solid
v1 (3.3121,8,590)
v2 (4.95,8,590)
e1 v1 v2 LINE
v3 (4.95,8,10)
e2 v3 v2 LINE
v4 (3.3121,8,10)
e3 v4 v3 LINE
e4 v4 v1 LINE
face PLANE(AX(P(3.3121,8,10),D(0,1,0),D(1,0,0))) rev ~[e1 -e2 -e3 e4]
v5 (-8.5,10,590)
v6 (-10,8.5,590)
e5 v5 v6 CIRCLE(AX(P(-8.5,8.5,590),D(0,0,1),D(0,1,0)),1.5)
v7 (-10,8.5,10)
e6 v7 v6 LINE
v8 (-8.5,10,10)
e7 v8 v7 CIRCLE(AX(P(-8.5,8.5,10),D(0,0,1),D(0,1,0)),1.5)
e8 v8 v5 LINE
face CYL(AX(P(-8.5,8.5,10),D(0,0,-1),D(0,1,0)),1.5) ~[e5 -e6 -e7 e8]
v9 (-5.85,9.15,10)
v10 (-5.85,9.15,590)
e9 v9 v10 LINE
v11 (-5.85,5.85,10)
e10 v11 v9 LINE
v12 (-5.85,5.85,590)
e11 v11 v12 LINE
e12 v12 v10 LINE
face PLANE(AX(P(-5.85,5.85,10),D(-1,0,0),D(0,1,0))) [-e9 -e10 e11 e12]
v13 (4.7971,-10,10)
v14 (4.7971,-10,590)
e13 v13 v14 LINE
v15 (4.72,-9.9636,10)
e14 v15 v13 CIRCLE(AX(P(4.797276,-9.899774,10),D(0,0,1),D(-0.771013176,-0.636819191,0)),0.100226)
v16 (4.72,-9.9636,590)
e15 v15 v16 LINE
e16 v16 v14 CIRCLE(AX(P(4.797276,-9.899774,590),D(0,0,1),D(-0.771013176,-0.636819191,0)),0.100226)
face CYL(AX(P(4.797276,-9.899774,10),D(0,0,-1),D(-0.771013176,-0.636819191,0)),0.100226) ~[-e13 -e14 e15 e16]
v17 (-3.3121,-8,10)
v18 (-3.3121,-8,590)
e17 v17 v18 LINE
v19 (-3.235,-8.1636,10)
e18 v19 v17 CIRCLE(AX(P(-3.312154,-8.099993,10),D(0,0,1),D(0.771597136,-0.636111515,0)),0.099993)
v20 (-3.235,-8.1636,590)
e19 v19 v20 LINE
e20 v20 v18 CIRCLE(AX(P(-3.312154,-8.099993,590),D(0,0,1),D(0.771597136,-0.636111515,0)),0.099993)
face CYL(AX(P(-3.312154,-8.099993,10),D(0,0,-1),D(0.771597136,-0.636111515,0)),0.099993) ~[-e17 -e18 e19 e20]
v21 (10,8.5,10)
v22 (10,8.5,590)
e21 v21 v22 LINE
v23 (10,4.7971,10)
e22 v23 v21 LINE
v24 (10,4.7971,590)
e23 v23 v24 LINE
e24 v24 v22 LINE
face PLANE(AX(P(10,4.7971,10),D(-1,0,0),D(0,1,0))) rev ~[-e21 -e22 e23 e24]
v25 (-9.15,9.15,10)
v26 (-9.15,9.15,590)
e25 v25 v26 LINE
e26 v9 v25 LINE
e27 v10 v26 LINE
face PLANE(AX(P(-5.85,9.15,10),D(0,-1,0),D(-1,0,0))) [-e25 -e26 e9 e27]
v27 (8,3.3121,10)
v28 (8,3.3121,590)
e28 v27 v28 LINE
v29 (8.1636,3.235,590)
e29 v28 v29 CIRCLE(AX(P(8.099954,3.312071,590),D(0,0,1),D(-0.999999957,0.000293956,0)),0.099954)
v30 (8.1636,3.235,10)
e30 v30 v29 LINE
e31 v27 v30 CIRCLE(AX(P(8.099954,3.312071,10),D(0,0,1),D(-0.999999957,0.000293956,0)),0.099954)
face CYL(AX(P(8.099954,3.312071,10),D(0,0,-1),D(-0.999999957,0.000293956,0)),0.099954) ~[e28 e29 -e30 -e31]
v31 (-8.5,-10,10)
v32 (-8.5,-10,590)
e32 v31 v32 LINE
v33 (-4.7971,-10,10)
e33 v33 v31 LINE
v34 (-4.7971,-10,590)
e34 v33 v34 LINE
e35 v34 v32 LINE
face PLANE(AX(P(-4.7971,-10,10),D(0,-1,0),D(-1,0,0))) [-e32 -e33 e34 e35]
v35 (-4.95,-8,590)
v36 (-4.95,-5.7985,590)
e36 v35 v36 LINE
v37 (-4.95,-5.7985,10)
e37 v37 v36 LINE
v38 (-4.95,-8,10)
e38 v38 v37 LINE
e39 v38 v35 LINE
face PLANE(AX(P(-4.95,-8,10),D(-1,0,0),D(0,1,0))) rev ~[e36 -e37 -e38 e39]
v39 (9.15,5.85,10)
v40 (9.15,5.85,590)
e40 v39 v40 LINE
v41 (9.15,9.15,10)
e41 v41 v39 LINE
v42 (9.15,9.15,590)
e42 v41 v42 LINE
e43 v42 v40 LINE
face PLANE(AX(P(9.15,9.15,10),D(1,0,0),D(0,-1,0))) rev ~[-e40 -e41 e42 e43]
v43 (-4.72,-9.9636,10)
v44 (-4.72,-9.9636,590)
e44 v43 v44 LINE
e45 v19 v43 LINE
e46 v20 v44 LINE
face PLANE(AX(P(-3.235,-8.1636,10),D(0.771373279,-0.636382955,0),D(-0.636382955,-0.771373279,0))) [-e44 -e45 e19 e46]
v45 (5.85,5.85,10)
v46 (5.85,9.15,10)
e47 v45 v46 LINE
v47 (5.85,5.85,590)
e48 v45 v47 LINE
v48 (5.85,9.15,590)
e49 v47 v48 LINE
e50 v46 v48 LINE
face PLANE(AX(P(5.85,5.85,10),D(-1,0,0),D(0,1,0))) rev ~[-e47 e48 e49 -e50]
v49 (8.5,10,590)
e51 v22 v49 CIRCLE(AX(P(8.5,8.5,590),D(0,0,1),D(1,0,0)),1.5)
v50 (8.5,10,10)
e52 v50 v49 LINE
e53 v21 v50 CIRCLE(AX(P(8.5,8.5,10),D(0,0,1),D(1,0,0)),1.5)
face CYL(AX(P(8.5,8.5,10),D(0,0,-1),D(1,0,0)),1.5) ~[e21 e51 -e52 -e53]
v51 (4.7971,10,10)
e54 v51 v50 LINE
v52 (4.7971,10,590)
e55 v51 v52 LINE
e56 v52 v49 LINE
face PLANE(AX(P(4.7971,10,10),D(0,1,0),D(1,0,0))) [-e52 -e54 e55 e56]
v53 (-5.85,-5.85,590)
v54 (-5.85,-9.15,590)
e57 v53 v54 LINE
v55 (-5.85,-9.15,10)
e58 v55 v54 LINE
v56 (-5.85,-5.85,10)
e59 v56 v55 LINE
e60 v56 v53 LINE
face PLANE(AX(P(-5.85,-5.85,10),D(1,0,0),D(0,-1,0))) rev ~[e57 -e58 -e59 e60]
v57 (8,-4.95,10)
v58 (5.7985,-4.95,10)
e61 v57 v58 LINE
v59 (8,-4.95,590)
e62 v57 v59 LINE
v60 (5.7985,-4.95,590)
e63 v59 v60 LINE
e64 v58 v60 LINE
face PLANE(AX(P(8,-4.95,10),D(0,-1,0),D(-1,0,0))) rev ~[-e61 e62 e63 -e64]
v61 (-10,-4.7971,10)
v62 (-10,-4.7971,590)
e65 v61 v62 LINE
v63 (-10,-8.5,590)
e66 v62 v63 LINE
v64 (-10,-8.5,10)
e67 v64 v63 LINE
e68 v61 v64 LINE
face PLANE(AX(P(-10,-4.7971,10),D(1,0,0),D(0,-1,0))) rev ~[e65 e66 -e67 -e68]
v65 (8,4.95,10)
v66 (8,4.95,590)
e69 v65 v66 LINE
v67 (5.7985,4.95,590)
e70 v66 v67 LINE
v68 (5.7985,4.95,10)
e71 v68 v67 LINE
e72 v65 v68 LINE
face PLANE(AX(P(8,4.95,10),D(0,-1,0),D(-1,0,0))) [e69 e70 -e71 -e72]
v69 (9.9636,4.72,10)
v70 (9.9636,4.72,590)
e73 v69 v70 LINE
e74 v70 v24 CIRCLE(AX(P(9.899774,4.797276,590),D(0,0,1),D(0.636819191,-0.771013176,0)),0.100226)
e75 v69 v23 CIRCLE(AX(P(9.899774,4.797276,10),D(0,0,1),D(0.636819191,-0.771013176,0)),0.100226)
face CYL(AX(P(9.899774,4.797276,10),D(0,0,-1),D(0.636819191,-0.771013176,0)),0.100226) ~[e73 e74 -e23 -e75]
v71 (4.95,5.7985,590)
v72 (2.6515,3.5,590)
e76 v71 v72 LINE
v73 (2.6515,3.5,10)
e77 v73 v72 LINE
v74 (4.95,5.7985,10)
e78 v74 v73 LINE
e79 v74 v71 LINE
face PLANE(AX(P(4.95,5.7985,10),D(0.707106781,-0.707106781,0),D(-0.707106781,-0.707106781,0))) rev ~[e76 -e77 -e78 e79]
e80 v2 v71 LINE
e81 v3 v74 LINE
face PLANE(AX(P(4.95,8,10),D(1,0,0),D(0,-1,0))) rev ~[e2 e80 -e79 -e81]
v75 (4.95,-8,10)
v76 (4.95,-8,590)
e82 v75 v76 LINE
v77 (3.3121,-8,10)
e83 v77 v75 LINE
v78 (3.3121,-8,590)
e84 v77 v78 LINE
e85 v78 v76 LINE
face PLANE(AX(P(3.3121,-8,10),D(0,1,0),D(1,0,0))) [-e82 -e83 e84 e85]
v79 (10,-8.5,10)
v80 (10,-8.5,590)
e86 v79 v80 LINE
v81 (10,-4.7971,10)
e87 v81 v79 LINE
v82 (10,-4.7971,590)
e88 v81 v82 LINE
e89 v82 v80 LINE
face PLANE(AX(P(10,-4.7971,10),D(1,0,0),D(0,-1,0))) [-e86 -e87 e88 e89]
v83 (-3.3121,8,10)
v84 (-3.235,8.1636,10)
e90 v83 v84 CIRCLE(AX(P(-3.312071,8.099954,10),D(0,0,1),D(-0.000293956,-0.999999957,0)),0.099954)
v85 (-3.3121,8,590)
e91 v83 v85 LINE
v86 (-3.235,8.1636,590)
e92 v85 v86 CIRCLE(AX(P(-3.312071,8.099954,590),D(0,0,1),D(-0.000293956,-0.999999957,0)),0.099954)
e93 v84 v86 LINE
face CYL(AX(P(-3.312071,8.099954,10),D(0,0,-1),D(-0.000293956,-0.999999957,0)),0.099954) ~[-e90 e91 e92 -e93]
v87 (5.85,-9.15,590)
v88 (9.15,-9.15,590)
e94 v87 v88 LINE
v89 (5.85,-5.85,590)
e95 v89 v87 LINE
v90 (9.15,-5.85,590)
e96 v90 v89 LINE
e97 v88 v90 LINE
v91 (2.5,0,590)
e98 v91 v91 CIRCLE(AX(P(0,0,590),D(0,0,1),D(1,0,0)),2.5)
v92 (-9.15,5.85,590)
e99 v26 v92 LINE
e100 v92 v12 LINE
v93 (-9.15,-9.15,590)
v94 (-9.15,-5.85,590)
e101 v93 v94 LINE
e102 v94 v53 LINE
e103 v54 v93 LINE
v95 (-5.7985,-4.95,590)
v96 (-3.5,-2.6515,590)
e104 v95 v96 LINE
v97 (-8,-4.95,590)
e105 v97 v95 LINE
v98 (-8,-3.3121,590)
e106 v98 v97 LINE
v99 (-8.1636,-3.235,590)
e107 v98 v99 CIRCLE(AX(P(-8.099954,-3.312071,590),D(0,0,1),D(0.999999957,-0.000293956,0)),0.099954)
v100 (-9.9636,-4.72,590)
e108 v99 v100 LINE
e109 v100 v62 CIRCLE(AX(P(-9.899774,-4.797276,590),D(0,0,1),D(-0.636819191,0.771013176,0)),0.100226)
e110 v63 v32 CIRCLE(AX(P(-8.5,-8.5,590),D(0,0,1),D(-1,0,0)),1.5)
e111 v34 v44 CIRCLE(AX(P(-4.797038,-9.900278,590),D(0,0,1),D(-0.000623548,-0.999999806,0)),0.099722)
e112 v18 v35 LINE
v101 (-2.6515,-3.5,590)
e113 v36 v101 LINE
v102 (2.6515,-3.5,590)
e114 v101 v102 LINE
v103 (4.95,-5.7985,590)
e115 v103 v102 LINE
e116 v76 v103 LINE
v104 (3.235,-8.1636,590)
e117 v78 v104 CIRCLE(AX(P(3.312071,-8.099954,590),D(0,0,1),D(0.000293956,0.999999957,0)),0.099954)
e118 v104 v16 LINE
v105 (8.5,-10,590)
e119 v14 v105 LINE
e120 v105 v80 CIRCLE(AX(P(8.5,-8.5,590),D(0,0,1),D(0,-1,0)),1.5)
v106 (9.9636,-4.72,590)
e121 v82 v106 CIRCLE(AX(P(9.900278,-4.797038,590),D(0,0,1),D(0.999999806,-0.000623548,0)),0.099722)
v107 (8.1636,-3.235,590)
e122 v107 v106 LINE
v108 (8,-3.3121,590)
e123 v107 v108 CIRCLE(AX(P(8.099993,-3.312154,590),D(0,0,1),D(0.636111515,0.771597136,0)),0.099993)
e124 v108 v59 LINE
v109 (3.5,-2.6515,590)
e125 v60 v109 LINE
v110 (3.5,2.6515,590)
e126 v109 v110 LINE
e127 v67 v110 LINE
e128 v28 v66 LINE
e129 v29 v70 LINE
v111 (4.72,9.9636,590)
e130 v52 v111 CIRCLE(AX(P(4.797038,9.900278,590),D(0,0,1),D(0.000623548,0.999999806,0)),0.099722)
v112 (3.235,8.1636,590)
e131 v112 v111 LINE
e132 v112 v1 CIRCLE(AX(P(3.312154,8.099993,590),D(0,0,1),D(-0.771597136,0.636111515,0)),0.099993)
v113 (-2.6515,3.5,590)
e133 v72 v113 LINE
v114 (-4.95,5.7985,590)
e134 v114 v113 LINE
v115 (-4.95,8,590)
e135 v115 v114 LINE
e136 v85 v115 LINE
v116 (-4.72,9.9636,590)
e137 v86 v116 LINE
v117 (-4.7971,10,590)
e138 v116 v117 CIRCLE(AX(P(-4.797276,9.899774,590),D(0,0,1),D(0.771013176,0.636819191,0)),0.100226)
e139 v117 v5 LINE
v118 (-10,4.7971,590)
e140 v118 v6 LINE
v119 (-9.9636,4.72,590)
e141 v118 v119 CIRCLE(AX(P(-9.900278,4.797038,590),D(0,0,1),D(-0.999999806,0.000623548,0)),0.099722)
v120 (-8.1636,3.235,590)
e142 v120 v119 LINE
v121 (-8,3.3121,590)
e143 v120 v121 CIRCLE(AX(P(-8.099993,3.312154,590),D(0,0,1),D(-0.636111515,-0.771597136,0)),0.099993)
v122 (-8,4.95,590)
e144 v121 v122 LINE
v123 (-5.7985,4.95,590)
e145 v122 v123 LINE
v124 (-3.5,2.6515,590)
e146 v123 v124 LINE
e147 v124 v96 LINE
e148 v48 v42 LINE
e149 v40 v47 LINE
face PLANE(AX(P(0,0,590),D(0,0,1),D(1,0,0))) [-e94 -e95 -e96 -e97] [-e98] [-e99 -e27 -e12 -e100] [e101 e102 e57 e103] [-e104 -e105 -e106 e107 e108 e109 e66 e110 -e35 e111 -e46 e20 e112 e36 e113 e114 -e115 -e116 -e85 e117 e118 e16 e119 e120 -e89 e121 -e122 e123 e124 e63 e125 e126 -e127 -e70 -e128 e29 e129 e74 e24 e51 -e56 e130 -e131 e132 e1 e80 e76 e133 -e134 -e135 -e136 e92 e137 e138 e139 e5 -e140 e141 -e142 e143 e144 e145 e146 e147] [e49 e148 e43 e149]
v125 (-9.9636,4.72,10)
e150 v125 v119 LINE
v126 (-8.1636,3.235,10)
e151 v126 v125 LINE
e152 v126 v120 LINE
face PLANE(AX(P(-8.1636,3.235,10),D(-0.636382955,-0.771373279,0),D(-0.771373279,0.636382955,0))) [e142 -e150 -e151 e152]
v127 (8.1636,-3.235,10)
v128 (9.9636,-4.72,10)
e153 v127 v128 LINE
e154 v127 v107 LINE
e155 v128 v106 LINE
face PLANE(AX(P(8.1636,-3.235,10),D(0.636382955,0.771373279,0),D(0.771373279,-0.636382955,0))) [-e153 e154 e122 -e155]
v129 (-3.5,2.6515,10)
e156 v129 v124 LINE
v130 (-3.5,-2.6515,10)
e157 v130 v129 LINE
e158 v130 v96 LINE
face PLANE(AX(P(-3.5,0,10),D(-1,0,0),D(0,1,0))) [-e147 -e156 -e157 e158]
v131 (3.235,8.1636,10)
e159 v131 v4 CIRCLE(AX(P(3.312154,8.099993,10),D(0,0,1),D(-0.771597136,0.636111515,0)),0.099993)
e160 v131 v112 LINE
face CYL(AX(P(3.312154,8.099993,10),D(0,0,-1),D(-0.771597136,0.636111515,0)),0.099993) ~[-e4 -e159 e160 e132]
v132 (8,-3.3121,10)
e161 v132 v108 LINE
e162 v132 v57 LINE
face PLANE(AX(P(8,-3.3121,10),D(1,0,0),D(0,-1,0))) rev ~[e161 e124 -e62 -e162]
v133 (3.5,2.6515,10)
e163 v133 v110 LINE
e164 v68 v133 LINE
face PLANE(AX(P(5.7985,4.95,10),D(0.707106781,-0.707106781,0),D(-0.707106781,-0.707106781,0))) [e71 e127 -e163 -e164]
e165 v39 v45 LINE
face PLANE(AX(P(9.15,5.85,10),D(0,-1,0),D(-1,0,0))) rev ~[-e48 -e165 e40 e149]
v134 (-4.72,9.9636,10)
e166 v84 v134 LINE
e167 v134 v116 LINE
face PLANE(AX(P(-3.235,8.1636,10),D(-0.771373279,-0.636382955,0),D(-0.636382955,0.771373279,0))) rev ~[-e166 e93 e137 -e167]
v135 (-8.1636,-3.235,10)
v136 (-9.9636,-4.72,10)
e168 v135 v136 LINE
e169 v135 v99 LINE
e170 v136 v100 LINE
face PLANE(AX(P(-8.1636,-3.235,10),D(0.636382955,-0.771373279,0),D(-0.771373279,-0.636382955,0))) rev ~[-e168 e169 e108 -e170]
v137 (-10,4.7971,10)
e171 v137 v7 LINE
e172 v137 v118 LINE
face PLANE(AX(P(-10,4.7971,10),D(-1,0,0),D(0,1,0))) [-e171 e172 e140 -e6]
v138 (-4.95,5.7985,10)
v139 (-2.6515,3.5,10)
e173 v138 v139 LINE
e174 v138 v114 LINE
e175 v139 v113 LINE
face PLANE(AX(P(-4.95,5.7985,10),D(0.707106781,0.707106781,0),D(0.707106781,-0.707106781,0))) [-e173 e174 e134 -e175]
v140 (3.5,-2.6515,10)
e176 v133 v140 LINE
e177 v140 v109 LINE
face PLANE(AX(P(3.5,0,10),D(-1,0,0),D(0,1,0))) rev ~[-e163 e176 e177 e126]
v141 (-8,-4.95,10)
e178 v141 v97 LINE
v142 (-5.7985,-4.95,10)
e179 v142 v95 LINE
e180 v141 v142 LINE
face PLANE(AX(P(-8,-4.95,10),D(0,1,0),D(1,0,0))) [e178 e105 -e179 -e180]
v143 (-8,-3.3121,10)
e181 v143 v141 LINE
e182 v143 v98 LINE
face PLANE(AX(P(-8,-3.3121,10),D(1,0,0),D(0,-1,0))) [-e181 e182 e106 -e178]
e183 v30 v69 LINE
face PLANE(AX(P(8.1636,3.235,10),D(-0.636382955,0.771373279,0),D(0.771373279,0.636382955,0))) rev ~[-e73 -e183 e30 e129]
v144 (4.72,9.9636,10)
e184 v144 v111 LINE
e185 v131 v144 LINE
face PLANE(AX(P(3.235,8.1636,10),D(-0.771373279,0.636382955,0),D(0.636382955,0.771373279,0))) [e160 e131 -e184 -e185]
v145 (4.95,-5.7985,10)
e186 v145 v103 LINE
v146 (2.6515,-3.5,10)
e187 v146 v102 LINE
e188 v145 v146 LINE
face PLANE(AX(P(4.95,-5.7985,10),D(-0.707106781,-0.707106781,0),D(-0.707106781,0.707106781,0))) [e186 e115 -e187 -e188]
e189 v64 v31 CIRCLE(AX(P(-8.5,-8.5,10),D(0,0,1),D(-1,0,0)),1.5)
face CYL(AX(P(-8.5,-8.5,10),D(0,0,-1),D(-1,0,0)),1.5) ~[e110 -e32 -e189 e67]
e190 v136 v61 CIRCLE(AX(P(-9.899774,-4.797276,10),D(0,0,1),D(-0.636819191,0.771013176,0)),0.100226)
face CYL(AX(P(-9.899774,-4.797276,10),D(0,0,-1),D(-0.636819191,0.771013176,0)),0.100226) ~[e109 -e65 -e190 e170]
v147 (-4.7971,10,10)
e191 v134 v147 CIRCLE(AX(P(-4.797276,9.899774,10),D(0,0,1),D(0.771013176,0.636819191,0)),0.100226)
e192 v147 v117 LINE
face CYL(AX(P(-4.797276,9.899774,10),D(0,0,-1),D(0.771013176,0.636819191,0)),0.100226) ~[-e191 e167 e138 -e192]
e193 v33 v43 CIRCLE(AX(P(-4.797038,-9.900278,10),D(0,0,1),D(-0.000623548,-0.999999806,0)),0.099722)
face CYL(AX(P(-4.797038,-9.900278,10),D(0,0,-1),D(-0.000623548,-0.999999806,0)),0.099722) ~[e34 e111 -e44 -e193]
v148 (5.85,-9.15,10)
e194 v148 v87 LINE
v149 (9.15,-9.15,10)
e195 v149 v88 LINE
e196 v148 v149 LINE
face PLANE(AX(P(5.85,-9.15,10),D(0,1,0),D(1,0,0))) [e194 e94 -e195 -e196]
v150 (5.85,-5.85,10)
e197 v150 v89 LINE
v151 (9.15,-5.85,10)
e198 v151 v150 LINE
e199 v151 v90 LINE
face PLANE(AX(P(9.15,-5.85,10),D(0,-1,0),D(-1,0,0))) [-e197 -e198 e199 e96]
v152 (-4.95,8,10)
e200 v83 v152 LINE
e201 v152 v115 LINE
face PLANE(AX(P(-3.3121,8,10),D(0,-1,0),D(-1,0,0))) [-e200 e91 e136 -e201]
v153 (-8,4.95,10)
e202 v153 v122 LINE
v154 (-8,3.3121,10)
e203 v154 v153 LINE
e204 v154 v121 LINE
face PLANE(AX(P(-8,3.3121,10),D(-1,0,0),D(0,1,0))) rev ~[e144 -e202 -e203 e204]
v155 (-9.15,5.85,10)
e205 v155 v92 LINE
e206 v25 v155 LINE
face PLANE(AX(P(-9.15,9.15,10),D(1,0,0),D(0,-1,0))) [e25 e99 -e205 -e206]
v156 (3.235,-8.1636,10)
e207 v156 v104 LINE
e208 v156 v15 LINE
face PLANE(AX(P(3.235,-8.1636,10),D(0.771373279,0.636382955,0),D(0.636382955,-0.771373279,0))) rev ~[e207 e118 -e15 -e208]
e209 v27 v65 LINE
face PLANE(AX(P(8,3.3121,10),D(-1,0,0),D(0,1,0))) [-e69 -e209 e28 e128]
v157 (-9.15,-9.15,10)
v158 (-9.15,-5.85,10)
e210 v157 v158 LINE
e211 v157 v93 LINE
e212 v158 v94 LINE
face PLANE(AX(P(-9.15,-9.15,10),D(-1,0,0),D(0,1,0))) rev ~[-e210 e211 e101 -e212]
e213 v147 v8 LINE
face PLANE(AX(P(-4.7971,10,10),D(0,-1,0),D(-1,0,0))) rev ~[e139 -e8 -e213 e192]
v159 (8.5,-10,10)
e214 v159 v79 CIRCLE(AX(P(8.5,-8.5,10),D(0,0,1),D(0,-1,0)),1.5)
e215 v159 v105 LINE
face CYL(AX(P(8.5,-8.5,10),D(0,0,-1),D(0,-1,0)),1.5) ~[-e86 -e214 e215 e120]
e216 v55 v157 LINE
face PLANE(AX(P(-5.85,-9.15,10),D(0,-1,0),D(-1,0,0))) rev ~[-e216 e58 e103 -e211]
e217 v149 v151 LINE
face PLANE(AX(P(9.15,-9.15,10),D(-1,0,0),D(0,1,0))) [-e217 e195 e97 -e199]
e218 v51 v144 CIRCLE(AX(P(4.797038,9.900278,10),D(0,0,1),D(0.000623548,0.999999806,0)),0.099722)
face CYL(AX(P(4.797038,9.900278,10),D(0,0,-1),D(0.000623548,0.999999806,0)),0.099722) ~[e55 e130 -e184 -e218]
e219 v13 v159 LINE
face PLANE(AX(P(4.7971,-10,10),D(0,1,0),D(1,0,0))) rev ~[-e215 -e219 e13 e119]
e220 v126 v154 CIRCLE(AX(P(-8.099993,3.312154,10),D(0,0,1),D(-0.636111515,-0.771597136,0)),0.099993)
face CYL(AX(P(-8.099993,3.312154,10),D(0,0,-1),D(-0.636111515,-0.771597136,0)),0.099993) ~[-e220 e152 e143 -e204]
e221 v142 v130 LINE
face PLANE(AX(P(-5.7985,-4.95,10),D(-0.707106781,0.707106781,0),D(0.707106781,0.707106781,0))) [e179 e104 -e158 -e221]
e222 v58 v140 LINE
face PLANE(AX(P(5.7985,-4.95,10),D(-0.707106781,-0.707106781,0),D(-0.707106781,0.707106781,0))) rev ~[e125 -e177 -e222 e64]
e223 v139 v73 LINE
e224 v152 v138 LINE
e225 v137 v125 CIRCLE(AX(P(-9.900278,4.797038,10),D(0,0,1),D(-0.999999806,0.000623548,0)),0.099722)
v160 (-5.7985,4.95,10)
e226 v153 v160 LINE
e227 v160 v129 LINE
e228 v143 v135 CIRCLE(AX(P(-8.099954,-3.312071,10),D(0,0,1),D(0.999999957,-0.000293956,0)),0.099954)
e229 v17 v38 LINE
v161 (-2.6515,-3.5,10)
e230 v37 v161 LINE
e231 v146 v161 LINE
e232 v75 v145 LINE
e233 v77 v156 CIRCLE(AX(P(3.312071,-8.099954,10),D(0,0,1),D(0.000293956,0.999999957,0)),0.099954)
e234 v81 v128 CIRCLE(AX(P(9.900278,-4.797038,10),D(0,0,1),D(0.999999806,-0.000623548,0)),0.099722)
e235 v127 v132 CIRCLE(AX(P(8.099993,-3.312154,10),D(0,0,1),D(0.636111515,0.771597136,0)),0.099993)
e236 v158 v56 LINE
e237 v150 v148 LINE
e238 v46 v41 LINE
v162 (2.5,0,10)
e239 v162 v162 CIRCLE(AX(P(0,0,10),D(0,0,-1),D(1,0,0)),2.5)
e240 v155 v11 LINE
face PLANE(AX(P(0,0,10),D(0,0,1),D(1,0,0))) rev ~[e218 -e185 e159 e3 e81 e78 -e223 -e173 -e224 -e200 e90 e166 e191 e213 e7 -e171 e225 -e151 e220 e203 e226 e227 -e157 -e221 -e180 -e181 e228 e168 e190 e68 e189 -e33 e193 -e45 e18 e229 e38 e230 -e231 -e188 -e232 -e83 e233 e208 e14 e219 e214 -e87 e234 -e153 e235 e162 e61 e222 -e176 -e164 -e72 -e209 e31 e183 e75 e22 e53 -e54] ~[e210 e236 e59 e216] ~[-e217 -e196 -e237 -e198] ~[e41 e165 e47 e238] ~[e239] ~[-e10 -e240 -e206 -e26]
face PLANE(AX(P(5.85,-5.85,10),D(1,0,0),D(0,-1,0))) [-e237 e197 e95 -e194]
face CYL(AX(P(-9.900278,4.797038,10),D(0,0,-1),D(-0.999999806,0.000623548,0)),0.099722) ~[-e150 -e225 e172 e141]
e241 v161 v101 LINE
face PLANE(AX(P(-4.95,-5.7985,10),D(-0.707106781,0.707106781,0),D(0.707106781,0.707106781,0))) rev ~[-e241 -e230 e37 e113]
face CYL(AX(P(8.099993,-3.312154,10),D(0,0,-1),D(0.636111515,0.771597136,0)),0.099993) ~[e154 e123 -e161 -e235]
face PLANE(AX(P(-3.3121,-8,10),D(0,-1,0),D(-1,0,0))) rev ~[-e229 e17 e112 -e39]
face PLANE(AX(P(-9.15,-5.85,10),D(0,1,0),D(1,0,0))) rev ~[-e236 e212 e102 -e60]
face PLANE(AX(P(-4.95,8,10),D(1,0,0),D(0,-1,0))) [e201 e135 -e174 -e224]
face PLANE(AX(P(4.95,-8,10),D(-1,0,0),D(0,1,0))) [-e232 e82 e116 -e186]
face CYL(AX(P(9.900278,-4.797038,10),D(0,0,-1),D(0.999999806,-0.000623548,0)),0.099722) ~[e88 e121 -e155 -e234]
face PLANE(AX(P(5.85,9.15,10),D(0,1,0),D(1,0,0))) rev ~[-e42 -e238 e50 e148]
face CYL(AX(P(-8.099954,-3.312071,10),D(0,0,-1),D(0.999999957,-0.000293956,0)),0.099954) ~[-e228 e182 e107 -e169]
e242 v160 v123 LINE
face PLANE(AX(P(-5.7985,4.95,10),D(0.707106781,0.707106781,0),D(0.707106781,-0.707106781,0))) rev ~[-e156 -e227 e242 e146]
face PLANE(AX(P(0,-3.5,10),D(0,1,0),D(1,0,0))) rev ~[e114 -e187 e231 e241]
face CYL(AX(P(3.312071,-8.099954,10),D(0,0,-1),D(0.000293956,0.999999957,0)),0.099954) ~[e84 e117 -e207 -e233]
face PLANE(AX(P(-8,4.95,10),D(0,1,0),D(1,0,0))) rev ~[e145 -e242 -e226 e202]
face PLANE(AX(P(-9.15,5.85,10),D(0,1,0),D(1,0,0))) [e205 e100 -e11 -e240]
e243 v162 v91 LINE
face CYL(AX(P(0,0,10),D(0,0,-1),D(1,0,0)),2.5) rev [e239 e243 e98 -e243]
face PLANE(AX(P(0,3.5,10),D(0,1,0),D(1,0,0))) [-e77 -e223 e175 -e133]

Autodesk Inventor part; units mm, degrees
ref_plane "Начальная плоскость" through (0, 0, 10) normal (0, 0, 1) x (1, 0, 0)
ref_plane "Конечная плоскость" through (0, 0, 590) normal (0, 0, 1) x (1, 0, 0)
sketch "Эскиз" plane through (0, 0, 0) normal (0, 0, 1) x (1, 0, 0)
  line L0 (-14.4349, 0) -> (14.4349, 0) projected
  line L1 (0, -14) -> (0, 14) projected
  line L2 (0, 0) -> (7.5, 7.5) construction
  circle A0 centre (7.5, 7.5) radius 1.65 construction
  line L3 (5.85, 9.15) -> (9.15, 9.15)
  line L4 (9.15, 9.15) -> (9.15, 5.85)
  line L5 (9.15, 5.85) -> (5.85, 5.85)
  line L6 (5.85, 5.85) -> (5.85, 9.15)
  line L7 (3.235, 8.1636) -> (4.72, 9.9636)
  line L8 (4.7971, 10) -> (8.5, 10)
  line L9 (3.3121, 8) -> (4.95, 8)
  line L10 (4.95, 8) -> (4.95, 5.7985)
  line L11 (4.95, 5.7985) -> (2.6515, 3.5)
  line L12 (0, 3.5) -> (2.6515, 3.5)
  circle A1 centre (0, 0) radius 2.5
  line L13 (8.1636, 3.235) -> (9.9636, 4.72)
  line L14 (10, 4.7971) -> (10, 8.5)
  line L15 (8, 3.3121) -> (8, 4.95)
  line L16 (8, 4.95) -> (5.7985, 4.95)
  line L17 (5.7985, 4.95) -> (3.5, 2.6515)
  line L18 (3.5, 0) -> (3.5, 2.6515)
  arc A2 (10, 8.5) -> (8.5, 10) centre (8.5, 8.5) ccw
  line L19 (0, 0) -> (-7.5, 7.5) construction
  circle A3 centre (-7.5, 7.5) radius 1.65 construction
  line L20 (-5.85, 9.15) -> (-9.15, 9.15)
  line L21 (-9.15, 9.15) -> (-9.15, 5.85)
  line L22 (-9.15, 5.85) -> (-5.85, 5.85)
  line L23 (-5.85, 5.85) -> (-5.85, 9.15)
  line L24 (-3.235, 8.1636) -> (-4.72, 9.9636)
  line L25 (-4.7971, 10) -> (-8.5, 10)
  line L26 (-3.3121, 8) -> (-4.95, 8)
  line L27 (-4.95, 8) -> (-4.95, 5.7985)
  line L28 (-4.95, 5.7985) -> (-2.6515, 3.5)
  line L29 (0, 3.5) -> (-2.6515, 3.5)
  line L30 (-3.5, 0) -> (-3.5, 2.6515)
  line L31 (-5.7985, 4.95) -> (-3.5, 2.6515)
  line L32 (-8, 4.95) -> (-5.7985, 4.95)
  line L33 (-8, 3.3121) -> (-8, 4.95)
  line L34 (-8.1636, 3.235) -> (-9.9636, 4.72)
  line L35 (-10, 4.7971) -> (-10, 8.5)
  arc A4 (-8.5, 10) -> (-10, 8.5) centre (-8.5, 8.5) ccw
  line L36 (0, 14) -> (0, -14)
  line L37 (0, 0) -> (7.5, -7.5) construction
  circle A5 centre (7.5, -7.5) radius 1.65 construction
  line L38 (5.85, -9.15) -> (9.15, -9.15)
  line L39 (9.15, -9.15) -> (9.15, -5.85)
  line L40 (9.15, -5.85) -> (5.85, -5.85)
  line L41 (5.85, -5.85) -> (5.85, -9.15)
  line L42 (3.235, -8.1636) -> (4.72, -9.9636)
  line L43 (4.7971, -10) -> (8.5, -10)
  line L44 (3.3121, -8) -> (4.95, -8)
  line L45 (4.95, -8) -> (4.95, -5.7985)
  line L46 (4.95, -5.7985) -> (2.6515, -3.5)
  line L47 (0, -3.5) -> (2.6515, -3.5)
  line L48 (3.5, 0) -> (3.5, -2.6515)
  line L49 (5.7985, -4.95) -> (3.5, -2.6515)
  line L50 (8, -4.95) -> (5.7985, -4.95)
  line L51 (8, -3.3121) -> (8, -4.95)
  line L52 (8.1636, -3.235) -> (9.9636, -4.72)
  line L53 (10, -4.7971) -> (10, -8.5)
  arc A6 (8.5, -10) -> (10, -8.5) centre (8.5, -8.5) ccw
  line L54 (0, 0) -> (-7.5, -7.5) construction
  line L55 (-4.95, -8) -> (-4.95, -5.7985)
  line L56 (-3.3121, -8) -> (-4.95, -8)
  line L57 (-5.7985, -4.95) -> (-3.5, -2.6515)
  line L58 (-4.95, -5.7985) -> (-2.6515, -3.5)
  line L59 (-3.5, 0) -> (-3.5, -2.6515)
  line L60 (0, -3.5) -> (-2.6515, -3.5)
  circle A7 centre (-7.5, -7.5) radius 1.65 construction
  line L61 (-5.85, -5.85) -> (-5.85, -9.15)
  line L62 (-5.85, -9.15) -> (-9.15, -9.15)
  line L63 (-9.15, -9.15) -> (-9.15, -5.85)
  line L64 (-9.15, -5.85) -> (-5.85, -5.85)
  line L65 (-3.235, -8.1636) -> (-4.72, -9.9636)
  line L66 (-8, -4.95) -> (-5.7985, -4.95)
  line L67 (-8, -3.3121) -> (-8, -4.95)
  line L68 (-8.1636, -3.235) -> (-9.9636, -4.72)
  line L69 (-4.7971, -10) -> (-8.5, -10)
  line L70 (-10, -4.7971) -> (-10, -8.5)
  arc A8 (-10, -8.5) -> (-8.5, -10) centre (-8.5, -8.5) ccw
  arc A9 (3.235, 8.1636) -> (3.3121, 8) centre (3.3121, 8.1) ccw
  arc A10 (4.7971, 10) -> (4.72, 9.9636) centre (4.7971, 9.9) ccw
  arc A11 (8, 3.3121) -> (8.1636, 3.235) centre (8.1, 3.3121) ccw
  arc A12 (9.9636, 4.72) -> (10, 4.7971) centre (9.9, 4.7971) ccw
  arc A13 (-3.3121, 8) -> (-3.235, 8.1636) centre (-3.3121, 8.1) ccw
  arc A14 (-4.72, 9.9636) -> (-4.7971, 10) centre (-4.7971, 9.9) ccw
  arc A15 (-8.1636, 3.235) -> (-8, 3.3121) centre (-8.1, 3.3121) ccw
  arc A16 (-10, 4.7971) -> (-9.9636, 4.72) centre (-9.9, 4.7971) ccw
  arc A17 (-8, -3.3121) -> (-8.1636, -3.235) centre (-8.1, -3.3121) ccw
  arc A18 (-9.9636, -4.72) -> (-10, -4.7971) centre (-9.9, -4.7971) ccw
  arc A19 (-3.235, -8.1636) -> (-3.3121, -8) centre (-3.3121, -8.1) ccw
  arc A20 (-4.7971, -10) -> (-4.72, -9.9636) centre (-4.7971, -9.9) ccw
  arc A21 (4.72, -9.9636) -> (4.7971, -10) centre (4.7971, -9.9) ccw
  arc A22 (3.3121, -8) -> (3.235, -8.1636) centre (3.3121, -8.1) ccw
  arc A23 (8.1636, -3.235) -> (8, -3.3121) centre (8.1, -3.3121) ccw
  arc A24 (10, -4.7971) -> (9.9636, -4.72) centre (9.9, -4.7971) ccw
  point P0 (3.1, 8)
  point P1 (4.75, 10)
  point P2 (7.5, 9.15)
  point P3 (8, 3.1)
  point P4 (10, 4.75)
  point P5 (7.5, 5.85)
  point P6 (9.15, 7.5)
  point P7 (-3.1, 8)
  point P8 (-4.75, 10)
  point P9 (-7.5, 9.15)
  point P10 (-8, 3.1)
  point P11 (-10, 4.75)
  point P12 (-7.5, 5.85)
  point P13 (-9.15, 7.5)
  point P14 (3.1, -8)
  point P15 (4.75, -10)
  point P16 (7.5, -9.15)
  point P17 (8, -3.1)
  point P18 (10, -4.75)
  point P19 (7.5, -5.85)
  point P20 (9.15, -7.5)
  point P21 (-3.1, -8)
  point P22 (-7.5, -5.85)
  point P23 (-7.5, -9.15)
  point P24 (-9.15, -7.5)
  point P25 (-4.75, -10)
  point P26 (-8, -3.1)
  point P27 (-10, -4.75)
  dimension "d0" = 45
  dimension "d1" = 3.3
  dimension "d2" = 1.5
  dimension "d3" = 1.2
  dimension "d4" = 5
  dimension "d5" = 6.5
  dimension "d6" = 15
  dimension "d7" = 20
  dimension "d8" = 9.9
  dimension "d9" = 9.5
  dimension "d10" = 6.2
  dimension "d11" = 2
  dimension "d18" = 0.1
  dimension "d19" = 0.1
extrude "Тело" add sketch "Эскиз" along normal up to surface (580 mm away) from surface at 10 contours A1 L1 L12 L11 L10 L9 A9 L7 A10 L8 A2 L14 A12 L13 A11 L15 L16 L17 L18 L0 | L0 L48 L49 L50 L51 A23 L52 A24 L53 A6 L43 A21 L42 A22 L44 L45 L46 L47 L1 A1 | A1 L0 L30 L31 L32 L33 A15 L34 A16 L35 A4 L25 A14 L24 A13 L26 L27 L28 L29 L1 | L1 L60 L58 L55 L56 A19 L65 A20 L69 A8 L70 A18 L68 A17 L67 L66 L57 L59 L0 A1
sketch "Эскиз2" plane through (0, 0, 0) normal (0, 0, 1) x (1, 0, 0)
  line L0 (0, 0) -> (10, 0)
ref_plane "РабПлоскость3" through (0, 0, 0) normal (0, -1, 0) x (1, 0, 0)
sketch "Эскиз3" plane through (0, 0, 0) normal (0, -1, 0) x (1, 0, 0)
  line L0 (-2, 10) -> (12, 10)
  line L1 (-2, 590) -> (12, 590)
  dimension "d25" = 580
ref_plane "РабПлоскость5" through (281.5, 0, 10) normal (0, 0, -1) x (-1, 0, 0)
split "Разделение2" plane through (281.5, 0, 10) removes the side toward (0, 0, -1)
ref_plane "РабПлоскость6" through (0, 0, 10) normal (0, 0, -1) x (-1, 0, 0)
split "Разделение3" plane through (0, 0, 10) removes the side toward (0, 0, -1)
ref_plane "РабПлоскость7" through (0, 0, 590) normal (0, 0, 1) x (1, 0, 0)
split "Разделение4" plane through (0, 0, 590) removes the side toward (0, 0, 1)
ref_plane "РабПлоскость8" through (0, 10, 610) normal (0, 0, 1) x (1, 0, 0)
split "Разделение5" plane through (0, 10, 610) removes the side toward (0, 0, 1)
properties part number "короткая палка"
